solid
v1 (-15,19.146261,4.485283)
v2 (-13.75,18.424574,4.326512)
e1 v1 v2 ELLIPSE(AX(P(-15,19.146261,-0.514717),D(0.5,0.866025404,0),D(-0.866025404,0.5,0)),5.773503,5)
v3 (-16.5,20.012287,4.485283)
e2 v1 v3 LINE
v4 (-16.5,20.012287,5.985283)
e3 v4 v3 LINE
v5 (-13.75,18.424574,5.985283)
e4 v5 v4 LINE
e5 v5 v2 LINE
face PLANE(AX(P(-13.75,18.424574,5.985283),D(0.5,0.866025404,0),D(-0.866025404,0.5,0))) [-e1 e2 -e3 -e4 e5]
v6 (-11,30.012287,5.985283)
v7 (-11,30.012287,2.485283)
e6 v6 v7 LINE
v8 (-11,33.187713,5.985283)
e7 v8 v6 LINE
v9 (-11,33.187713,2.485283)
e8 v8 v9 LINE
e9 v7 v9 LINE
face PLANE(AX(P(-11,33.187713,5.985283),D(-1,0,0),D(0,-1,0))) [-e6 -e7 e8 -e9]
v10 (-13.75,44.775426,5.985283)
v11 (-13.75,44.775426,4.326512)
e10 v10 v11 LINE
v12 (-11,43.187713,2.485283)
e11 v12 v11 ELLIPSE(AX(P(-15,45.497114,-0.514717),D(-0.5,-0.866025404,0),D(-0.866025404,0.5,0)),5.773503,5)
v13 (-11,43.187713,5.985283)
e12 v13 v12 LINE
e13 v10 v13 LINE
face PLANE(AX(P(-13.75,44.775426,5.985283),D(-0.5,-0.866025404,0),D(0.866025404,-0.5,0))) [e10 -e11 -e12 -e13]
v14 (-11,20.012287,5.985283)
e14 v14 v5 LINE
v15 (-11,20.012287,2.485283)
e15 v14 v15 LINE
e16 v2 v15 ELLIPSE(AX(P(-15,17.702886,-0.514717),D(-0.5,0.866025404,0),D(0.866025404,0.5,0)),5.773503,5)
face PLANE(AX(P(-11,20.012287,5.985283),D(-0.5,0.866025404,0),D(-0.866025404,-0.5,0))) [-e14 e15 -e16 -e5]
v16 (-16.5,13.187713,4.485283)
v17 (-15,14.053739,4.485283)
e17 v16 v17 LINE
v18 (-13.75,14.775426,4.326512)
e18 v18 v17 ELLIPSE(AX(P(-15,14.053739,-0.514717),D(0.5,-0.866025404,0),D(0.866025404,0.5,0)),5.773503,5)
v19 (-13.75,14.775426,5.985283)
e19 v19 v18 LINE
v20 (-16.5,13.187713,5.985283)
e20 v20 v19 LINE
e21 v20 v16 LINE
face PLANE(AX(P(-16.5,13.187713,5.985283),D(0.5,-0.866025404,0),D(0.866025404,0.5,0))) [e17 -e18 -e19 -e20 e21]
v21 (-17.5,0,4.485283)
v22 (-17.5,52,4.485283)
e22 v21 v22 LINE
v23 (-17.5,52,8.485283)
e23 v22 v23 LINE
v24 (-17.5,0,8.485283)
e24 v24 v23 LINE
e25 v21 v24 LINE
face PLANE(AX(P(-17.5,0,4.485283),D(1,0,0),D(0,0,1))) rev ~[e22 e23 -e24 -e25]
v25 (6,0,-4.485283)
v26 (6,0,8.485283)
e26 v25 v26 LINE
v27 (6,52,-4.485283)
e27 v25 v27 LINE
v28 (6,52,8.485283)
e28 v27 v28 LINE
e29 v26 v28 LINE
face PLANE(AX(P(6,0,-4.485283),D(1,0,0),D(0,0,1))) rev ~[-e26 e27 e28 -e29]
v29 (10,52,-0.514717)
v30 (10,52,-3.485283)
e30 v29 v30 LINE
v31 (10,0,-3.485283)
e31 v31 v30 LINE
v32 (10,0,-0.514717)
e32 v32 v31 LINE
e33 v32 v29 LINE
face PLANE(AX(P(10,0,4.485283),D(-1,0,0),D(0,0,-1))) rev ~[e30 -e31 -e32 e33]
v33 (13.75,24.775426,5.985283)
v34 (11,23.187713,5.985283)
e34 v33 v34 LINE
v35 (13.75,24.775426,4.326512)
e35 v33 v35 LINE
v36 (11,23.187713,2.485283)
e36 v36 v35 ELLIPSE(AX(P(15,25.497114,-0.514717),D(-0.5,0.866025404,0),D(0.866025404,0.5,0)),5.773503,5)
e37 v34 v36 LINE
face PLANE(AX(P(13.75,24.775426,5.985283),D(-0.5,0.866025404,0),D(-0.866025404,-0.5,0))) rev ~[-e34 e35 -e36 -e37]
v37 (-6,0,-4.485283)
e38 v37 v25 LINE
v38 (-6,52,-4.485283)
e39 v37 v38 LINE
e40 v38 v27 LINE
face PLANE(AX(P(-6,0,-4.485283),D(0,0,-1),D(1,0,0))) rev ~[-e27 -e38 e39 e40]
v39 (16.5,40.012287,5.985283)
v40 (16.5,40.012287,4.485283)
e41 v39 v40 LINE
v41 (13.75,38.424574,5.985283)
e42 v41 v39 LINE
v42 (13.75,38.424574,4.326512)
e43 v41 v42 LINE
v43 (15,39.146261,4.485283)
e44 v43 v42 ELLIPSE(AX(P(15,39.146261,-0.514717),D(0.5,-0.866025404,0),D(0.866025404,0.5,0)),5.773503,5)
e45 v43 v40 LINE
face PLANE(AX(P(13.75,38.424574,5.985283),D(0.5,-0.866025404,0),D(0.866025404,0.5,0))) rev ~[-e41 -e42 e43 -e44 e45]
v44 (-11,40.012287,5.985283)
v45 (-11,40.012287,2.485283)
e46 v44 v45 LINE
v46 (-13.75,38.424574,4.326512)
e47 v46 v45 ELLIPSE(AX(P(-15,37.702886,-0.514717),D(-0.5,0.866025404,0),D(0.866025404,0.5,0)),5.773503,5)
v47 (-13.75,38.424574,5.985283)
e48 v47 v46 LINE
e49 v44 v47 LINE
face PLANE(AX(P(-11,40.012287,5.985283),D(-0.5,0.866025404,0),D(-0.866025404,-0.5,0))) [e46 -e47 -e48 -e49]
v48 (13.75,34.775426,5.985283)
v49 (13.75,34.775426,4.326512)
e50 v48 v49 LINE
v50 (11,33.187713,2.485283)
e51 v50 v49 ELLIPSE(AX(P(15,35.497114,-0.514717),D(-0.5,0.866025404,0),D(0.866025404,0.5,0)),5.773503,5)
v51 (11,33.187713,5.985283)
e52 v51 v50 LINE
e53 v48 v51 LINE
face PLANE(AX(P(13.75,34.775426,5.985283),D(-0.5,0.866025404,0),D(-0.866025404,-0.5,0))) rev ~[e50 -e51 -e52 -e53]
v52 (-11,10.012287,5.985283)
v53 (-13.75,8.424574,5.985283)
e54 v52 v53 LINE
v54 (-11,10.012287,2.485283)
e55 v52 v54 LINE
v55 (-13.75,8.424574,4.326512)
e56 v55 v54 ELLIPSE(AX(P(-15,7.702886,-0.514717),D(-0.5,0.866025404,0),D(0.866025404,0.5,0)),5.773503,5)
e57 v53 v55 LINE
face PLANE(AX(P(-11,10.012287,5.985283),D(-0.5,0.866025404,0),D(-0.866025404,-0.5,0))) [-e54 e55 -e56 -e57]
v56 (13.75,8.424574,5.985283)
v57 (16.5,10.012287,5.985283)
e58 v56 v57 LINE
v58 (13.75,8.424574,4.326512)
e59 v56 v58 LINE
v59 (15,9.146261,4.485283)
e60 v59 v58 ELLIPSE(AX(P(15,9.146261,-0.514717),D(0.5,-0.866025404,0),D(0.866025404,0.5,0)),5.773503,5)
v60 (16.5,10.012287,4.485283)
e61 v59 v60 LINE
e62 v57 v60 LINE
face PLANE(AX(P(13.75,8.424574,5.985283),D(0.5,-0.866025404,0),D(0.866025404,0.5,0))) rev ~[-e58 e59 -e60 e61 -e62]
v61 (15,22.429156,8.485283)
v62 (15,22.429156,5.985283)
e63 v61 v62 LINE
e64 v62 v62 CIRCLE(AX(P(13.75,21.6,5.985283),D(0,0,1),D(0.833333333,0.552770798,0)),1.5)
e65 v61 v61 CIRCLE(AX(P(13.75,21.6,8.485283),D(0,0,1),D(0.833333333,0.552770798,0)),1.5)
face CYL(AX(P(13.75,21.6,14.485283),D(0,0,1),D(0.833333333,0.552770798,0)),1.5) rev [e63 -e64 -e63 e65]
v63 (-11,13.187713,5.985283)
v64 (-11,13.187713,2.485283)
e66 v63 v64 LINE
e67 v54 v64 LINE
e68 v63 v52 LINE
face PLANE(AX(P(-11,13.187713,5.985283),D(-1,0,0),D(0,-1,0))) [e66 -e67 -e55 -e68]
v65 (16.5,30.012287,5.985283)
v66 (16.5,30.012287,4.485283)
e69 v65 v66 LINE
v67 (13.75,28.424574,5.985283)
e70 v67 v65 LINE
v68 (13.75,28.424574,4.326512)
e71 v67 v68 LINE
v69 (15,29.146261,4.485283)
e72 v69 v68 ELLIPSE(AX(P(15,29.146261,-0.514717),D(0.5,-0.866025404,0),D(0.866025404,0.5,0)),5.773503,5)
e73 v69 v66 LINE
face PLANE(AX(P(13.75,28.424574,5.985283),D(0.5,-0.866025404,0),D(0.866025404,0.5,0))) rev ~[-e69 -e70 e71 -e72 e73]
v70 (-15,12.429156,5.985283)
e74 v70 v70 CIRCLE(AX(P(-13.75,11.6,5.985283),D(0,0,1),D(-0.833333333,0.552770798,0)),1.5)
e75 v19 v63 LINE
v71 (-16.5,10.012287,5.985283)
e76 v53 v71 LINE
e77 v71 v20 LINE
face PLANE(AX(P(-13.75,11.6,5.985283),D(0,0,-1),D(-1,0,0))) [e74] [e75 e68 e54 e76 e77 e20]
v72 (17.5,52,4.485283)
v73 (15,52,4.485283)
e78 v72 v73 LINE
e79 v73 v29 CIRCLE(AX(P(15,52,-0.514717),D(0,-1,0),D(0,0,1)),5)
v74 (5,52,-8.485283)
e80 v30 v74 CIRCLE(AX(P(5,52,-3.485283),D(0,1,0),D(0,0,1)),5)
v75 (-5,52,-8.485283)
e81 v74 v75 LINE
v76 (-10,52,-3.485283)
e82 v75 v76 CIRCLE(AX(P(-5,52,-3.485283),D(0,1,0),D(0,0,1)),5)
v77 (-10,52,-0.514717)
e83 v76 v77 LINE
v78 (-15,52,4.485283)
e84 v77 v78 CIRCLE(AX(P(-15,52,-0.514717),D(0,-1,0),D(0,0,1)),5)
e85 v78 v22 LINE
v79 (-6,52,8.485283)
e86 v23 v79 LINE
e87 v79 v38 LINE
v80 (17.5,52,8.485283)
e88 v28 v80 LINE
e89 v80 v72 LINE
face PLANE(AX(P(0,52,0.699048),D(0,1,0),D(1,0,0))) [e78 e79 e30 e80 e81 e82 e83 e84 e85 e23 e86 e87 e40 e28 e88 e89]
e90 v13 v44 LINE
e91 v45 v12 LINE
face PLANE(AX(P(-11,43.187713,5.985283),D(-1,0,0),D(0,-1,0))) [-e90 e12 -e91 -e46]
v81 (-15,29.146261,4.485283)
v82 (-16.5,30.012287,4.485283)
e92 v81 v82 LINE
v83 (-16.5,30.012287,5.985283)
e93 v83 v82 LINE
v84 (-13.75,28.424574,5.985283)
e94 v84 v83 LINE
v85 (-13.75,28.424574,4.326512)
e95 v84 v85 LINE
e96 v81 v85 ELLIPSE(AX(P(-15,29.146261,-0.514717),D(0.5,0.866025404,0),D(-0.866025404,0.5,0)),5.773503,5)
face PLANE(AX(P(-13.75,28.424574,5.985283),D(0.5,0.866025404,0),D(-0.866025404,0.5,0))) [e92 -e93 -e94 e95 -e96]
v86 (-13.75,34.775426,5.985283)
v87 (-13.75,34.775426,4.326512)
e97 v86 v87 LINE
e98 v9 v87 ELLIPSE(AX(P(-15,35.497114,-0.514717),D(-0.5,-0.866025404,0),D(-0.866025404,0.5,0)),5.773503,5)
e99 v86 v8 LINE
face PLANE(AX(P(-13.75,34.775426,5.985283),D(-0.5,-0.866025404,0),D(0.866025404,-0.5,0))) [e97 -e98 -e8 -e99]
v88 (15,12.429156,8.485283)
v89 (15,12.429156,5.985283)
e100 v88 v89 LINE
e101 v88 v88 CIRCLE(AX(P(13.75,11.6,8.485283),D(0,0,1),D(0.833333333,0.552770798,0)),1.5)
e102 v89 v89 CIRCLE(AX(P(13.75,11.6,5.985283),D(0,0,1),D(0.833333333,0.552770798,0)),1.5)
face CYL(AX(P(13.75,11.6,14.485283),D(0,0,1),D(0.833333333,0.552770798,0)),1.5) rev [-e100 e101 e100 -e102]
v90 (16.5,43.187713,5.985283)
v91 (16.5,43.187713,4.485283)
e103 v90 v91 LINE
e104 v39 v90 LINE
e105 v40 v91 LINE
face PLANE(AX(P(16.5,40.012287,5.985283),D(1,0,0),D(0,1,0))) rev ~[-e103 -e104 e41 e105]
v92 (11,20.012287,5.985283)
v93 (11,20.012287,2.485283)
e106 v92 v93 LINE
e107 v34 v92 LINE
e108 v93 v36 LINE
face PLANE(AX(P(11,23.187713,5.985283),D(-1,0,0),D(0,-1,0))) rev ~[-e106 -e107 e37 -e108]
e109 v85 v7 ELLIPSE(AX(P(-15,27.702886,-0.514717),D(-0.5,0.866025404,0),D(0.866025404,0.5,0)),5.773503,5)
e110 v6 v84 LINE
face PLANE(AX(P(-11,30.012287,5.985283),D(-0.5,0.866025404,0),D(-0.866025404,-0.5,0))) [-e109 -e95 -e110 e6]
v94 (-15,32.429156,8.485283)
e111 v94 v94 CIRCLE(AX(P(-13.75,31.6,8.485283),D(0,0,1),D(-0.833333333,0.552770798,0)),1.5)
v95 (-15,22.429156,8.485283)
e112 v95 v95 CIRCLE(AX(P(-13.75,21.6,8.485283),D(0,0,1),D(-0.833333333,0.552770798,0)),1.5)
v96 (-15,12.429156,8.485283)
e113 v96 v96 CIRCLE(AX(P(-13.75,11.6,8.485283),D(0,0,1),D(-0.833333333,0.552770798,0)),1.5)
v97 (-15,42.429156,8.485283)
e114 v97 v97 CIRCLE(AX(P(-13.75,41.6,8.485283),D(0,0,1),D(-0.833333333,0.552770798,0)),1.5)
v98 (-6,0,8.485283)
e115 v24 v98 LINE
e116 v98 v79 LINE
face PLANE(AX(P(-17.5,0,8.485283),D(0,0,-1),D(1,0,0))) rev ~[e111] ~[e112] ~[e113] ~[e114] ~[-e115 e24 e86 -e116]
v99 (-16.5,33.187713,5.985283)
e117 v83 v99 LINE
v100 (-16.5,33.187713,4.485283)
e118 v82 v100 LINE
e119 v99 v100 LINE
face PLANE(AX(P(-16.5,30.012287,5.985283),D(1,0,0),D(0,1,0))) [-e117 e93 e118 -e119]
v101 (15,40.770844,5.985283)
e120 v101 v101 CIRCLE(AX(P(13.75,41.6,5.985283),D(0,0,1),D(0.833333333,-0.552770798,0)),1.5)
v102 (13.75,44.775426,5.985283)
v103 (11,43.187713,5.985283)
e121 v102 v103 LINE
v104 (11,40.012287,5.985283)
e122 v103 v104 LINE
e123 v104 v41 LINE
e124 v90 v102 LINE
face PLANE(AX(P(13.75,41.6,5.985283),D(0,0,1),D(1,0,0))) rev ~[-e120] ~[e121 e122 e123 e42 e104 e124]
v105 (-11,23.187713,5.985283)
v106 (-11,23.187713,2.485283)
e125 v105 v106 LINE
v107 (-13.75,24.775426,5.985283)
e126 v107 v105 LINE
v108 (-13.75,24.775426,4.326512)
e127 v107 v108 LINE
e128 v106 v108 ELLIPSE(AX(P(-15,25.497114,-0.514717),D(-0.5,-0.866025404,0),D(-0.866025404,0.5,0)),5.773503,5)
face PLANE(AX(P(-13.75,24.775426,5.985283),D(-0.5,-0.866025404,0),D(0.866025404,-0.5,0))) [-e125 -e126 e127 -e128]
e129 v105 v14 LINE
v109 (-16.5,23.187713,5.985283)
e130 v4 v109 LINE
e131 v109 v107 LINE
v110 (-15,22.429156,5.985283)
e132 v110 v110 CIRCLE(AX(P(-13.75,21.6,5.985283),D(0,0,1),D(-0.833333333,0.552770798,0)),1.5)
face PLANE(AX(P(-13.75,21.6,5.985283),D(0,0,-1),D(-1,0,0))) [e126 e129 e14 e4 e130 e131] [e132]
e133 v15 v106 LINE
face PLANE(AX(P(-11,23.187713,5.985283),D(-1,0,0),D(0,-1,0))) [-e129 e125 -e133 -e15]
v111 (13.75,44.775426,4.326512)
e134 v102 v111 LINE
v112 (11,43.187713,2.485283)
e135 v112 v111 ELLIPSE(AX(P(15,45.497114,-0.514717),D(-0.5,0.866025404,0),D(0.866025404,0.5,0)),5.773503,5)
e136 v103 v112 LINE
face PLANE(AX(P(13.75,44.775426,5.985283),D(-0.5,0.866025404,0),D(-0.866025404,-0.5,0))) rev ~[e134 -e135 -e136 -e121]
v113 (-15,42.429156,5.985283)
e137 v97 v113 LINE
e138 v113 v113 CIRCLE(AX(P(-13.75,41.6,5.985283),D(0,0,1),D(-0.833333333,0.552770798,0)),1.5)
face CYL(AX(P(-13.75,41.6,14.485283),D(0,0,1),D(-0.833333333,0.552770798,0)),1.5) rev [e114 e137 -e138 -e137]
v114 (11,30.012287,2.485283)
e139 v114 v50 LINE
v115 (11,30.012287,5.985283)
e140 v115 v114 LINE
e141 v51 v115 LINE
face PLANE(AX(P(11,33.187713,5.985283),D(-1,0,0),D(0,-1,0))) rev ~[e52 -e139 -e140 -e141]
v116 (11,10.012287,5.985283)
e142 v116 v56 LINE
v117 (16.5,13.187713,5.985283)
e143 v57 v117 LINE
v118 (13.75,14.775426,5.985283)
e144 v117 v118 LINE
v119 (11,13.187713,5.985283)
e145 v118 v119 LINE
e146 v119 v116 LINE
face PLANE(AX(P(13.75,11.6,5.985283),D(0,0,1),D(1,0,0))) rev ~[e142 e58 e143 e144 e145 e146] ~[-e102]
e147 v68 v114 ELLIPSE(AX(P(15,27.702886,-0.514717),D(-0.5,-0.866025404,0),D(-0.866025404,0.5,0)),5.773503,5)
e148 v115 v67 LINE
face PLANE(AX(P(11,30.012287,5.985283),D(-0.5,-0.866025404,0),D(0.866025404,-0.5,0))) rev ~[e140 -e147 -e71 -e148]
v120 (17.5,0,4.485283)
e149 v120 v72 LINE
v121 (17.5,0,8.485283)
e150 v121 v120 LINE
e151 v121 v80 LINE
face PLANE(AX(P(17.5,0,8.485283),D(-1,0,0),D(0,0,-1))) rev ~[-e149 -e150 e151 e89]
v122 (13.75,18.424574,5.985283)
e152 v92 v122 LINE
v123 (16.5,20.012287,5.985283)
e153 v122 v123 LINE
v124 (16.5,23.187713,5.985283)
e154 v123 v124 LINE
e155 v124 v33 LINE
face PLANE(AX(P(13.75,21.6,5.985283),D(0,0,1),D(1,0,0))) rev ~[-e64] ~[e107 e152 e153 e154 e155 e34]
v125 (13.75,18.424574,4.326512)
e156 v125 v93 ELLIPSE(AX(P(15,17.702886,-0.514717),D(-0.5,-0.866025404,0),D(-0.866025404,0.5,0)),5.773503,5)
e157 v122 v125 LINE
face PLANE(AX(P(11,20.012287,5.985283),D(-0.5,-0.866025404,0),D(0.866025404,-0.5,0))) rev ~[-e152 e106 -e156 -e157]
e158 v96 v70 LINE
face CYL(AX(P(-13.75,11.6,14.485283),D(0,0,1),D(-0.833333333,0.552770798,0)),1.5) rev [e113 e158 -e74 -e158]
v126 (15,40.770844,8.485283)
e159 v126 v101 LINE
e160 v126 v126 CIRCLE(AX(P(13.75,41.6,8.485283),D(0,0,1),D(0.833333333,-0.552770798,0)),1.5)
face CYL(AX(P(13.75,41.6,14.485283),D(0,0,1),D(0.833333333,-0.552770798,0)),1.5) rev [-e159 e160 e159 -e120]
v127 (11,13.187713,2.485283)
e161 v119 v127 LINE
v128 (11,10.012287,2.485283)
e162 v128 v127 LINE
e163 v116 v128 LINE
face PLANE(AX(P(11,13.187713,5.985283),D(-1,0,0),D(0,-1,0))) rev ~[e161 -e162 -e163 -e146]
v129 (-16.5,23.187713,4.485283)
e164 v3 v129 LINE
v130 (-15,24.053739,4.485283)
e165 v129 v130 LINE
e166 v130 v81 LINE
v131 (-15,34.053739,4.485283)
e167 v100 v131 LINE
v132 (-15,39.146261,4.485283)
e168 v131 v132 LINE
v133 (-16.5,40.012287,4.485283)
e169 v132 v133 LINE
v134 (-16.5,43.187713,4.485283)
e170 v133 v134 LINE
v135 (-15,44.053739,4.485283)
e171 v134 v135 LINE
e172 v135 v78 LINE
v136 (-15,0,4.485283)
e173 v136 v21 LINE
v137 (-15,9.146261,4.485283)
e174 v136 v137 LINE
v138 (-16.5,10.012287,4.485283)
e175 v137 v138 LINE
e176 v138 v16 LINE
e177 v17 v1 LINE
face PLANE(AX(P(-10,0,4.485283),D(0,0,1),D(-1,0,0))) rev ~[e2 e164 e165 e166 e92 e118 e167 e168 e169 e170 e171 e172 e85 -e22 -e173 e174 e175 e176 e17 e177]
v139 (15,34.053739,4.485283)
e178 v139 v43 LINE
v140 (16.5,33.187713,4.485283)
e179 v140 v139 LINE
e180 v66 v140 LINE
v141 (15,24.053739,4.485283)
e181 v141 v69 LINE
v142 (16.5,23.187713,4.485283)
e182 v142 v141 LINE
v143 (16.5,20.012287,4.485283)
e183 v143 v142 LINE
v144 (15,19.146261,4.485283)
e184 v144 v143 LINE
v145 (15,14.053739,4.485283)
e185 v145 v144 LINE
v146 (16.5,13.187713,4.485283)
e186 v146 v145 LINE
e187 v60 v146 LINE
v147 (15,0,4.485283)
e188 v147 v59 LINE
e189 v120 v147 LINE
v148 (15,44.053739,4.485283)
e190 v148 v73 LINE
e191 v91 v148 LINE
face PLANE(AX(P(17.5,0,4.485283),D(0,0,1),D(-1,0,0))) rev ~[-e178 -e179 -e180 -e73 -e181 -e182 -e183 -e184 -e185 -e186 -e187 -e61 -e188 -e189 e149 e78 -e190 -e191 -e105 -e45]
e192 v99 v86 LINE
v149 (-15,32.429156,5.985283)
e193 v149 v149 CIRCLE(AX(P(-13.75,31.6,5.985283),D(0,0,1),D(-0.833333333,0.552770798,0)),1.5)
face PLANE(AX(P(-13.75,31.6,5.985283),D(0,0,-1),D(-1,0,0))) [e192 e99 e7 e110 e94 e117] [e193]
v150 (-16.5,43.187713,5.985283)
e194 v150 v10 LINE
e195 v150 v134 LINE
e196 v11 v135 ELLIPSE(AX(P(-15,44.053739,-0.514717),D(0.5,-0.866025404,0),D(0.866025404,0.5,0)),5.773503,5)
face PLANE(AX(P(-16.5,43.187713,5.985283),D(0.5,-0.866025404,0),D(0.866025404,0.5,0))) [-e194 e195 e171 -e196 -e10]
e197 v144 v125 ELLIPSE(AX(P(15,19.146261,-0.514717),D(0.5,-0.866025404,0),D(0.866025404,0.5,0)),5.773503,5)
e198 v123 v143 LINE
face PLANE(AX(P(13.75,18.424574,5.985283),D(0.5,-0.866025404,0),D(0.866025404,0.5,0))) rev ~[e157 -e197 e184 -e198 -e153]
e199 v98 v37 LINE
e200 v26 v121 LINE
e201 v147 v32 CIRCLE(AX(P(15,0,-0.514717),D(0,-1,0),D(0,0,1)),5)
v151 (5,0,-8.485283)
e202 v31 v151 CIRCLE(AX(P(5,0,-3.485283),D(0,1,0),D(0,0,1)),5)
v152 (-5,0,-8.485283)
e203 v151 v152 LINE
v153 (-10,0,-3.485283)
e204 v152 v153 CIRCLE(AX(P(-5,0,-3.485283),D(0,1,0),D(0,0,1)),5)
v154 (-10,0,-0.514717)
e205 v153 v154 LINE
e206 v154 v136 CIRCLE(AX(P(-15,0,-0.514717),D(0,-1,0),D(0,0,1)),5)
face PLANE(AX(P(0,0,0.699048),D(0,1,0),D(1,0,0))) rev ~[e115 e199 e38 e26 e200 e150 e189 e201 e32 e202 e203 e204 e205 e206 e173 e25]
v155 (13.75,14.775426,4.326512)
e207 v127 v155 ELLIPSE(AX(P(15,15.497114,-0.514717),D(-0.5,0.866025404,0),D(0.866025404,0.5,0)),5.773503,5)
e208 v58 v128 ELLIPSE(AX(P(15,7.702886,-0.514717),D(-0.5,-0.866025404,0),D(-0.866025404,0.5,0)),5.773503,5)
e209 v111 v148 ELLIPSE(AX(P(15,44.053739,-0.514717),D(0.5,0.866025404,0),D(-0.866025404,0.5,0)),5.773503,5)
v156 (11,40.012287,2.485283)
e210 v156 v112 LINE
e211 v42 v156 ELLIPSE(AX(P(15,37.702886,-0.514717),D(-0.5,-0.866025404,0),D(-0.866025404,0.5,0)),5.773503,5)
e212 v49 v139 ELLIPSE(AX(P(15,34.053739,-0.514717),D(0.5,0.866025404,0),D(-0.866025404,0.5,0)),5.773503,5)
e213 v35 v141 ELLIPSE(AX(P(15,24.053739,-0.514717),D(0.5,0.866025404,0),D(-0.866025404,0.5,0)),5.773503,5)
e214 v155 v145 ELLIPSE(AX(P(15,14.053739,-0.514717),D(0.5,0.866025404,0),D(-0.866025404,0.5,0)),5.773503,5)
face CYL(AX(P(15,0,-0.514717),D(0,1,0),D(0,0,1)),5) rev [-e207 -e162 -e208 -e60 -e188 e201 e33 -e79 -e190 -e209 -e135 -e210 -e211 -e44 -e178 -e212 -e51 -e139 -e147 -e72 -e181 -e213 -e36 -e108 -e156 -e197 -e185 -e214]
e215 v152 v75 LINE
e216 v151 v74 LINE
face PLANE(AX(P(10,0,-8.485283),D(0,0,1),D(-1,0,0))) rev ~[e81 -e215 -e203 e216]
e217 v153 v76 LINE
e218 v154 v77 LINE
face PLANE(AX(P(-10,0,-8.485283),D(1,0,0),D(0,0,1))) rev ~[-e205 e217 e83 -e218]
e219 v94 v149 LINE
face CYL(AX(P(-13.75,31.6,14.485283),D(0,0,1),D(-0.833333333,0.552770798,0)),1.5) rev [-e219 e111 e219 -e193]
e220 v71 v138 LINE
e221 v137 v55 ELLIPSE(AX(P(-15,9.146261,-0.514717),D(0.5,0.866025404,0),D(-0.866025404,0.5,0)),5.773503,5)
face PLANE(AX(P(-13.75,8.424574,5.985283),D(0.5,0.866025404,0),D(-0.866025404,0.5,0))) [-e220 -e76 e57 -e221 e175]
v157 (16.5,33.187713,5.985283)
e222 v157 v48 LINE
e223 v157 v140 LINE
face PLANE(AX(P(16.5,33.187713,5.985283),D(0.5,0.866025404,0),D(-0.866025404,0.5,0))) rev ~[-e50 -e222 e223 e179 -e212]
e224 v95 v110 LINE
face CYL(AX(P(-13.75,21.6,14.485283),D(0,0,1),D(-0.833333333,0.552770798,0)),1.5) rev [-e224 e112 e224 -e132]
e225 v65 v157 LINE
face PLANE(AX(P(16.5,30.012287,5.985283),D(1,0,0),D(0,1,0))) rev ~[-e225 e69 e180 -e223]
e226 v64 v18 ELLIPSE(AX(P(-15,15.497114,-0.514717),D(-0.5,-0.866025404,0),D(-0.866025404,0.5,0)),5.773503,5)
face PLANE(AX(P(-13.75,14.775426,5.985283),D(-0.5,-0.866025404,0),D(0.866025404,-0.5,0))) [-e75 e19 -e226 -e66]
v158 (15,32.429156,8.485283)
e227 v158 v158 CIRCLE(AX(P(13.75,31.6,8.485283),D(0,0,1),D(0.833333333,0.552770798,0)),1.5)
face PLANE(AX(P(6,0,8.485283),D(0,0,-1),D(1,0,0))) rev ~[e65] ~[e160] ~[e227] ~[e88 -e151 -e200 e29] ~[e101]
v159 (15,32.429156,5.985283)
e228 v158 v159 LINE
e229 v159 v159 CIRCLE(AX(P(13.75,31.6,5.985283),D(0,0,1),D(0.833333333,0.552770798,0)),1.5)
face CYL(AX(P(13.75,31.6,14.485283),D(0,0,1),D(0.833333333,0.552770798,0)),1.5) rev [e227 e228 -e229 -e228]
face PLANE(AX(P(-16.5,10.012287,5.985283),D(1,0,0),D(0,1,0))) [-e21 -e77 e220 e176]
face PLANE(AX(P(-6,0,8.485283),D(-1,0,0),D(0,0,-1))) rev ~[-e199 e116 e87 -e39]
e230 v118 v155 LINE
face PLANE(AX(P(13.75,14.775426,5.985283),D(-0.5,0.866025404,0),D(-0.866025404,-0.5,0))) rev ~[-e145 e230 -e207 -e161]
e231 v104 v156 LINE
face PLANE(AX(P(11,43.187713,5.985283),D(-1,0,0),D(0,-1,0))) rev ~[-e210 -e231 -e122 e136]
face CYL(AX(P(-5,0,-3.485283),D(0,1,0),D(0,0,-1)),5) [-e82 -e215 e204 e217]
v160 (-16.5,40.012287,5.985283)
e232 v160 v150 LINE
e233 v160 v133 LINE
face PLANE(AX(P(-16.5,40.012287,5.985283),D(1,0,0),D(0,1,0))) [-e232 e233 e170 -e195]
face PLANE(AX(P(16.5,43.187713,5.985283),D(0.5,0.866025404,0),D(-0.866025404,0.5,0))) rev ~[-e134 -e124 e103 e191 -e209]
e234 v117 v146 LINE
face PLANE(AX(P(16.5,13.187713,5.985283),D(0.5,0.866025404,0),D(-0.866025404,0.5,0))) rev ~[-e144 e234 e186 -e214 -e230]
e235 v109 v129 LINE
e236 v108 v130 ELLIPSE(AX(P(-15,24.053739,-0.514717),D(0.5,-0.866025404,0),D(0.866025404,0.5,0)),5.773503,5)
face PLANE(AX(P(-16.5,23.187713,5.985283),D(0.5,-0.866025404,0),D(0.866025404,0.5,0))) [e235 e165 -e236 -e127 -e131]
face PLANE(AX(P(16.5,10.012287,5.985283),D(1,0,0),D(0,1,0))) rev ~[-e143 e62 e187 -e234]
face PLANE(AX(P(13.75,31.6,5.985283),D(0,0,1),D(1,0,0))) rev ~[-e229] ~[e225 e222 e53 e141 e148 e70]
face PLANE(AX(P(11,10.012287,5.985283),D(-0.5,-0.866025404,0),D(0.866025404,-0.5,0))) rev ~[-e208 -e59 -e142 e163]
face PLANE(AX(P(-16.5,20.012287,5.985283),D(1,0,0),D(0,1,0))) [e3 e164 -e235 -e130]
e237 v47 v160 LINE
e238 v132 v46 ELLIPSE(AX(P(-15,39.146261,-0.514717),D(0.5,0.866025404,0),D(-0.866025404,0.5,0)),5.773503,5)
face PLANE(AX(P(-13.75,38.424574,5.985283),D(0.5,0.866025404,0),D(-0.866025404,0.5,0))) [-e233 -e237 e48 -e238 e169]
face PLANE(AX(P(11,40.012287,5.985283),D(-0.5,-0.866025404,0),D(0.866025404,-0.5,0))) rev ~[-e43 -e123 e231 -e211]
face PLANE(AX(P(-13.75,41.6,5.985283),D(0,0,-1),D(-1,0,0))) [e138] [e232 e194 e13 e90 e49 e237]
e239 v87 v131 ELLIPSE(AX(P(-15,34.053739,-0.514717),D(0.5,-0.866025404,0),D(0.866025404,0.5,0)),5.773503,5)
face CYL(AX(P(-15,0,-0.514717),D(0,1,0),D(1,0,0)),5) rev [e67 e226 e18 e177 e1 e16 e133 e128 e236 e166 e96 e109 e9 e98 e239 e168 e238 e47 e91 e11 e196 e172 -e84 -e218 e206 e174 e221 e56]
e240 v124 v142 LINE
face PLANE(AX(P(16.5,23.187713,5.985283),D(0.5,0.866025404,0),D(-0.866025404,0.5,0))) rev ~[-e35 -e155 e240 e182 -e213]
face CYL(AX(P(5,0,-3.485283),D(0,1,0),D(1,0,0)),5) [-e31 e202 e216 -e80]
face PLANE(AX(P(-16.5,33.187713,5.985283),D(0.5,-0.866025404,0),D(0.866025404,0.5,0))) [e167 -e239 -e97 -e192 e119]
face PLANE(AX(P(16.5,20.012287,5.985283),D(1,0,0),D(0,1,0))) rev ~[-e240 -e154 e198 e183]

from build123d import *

# Parameters (mm, degrees)
EXTRUDE_1_DEPTH          = 52
FILLET_1_R               = 5
CUT_EXTRUDE_1_DEPTH      = 10
CUT_EXTRUDE_1_DEPTH_BACK = 10
SKETCH_2_R               = 1.5
CUT_EXTRUDE_2_DEPTH      = 10
CUT_EXTRUDE_2_DEPTH_BACK = 1.5


with BuildPart() as part:
    # Эскиз1 → Бобышка-Вытянуть1 (new body)
    with BuildSketch(Plane(origin=(0, 0, 0), x_dir=(1, 0, 0), z_dir=(0, 1, 0))):
        Polygon((-17.5, -4.485282754), (-17.5, -8.485282754), (-6, -8.485282754), (-6, 4.485282754), (6, 4.485282754), (6, -8.485282754), (17.5, -8.485282754), (17.5, -4.485282754), (10, -4.485282754), (10, 8.485282754), (-10, 8.485282754), (-10, -4.485282754), align=None)
    extrude(amount=EXTRUDE_1_DEPTH)

    # Скругление1
    fillet_1_edges = [part.edges().sort_by_distance(p)[0] for p in [
        (-10, 26, 4.485282754),
        (-10, 26, -8.485282754),
        (10, 26, -8.485282754),
        (10, 26, 4.485282754),
    ]]
    fillet(fillet_1_edges, radius=FILLET_1_R)

    # Эскиз2 → Вырез-Вытянуть1 (cut, two sides: drawn at the far end of the back side and taken through both)
    with BuildSketch(Plane(origin=(0, 0, 4.485282754), x_dir=(-1, 0, 0), z_dir=(0, 0, -1)).offset(-CUT_EXTRUDE_1_DEPTH_BACK)):
        with Locations(Location((13.75, 41.6, 0), (0, 0, 33.557309762))):
            Circle(SKETCH_2_R)
        with Locations(Location((13.75, 31.6, 0), (0, 0, 33.557309762))):
            Circle(SKETCH_2_R)
        with Locations(Location((13.75, 21.6, 0), (0, 0, 33.557309762))):
            Circle(SKETCH_2_R)
        with Locations(Location((13.75, 11.6, 0), (0, 0, 33.557309762))):
            Circle(SKETCH_2_R)
        with Locations(Location((-13.75, 41.6, 0), (0, 0, 213.557309762))):
            Circle(SKETCH_2_R)
        with Locations(Location((-13.75, 31.6, 0), (0, 0, 146.442690238))):
            Circle(SKETCH_2_R)
        with Locations(Location((-13.75, 21.6, 0), (0, 0, 146.442690238))):
            Circle(SKETCH_2_R)
        with Locations(Location((-13.75, 11.6, 0), (0, 0, 146.442690238))):
            Circle(SKETCH_2_R)
    extrude(amount=CUT_EXTRUDE_1_DEPTH + CUT_EXTRUDE_1_DEPTH_BACK, mode=Mode.SUBTRACT)

    # Эскиз3 → Вырез-Вытянуть2 (cut, two sides: drawn at the far end of the back side and taken through both)
    with BuildSketch(Plane(origin=(0, 0, 4.485282754), x_dir=(-1, 0, 0), z_dir=(0, 0, -1)).offset(-CUT_EXTRUDE_2_DEPTH_BACK)):
        Polygon((13.75, 38.424573519), (16.5, 40.01228676), (16.5, 43.18771324), (13.75, 44.775426481), (11, 43.18771324), (11, 40.01228676), align=None)
        Polygon((-11, 40.01228676), (-13.75, 38.424573519), (-16.5, 40.01228676), (-16.5, 43.18771324), (-13.75, 44.775426481), (-11, 43.18771324), align=None)
        Polygon((13.75, 28.424573519), (16.5, 30.01228676), (16.5, 33.18771324), (13.75, 34.775426481), (11, 33.18771324), (11, 30.01228676), align=None)
        Polygon((-11, 30.01228676), (-13.75, 28.424573519), (-16.5, 30.01228676), (-16.5, 33.18771324), (-13.75, 34.775426481), (-11, 33.18771324), align=None)
        Polygon((13.75, 18.424573519), (16.5, 20.01228676), (16.5, 23.18771324), (13.75, 24.775426481), (11, 23.18771324), (11, 20.01228676), align=None)
        Polygon((-11, 20.01228676), (-13.75, 18.424573519), (-16.5, 20.01228676), (-16.5, 23.18771324), (-13.75, 24.775426481), (-11, 23.18771324), align=None)
        Polygon((13.75, 8.424573519), (16.5, 10.01228676), (16.5, 13.18771324), (13.75, 14.775426481), (11, 13.18771324), (11, 10.01228676), align=None)
        Polygon((-11, 10.01228676), (-13.75, 8.424573519), (-16.5, 10.01228676), (-16.5, 13.18771324), (-13.75, 14.775426481), (-11, 13.18771324), align=None)
    extrude(amount=CUT_EXTRUDE_2_DEPTH + CUT_EXTRUDE_2_DEPTH_BACK, mode=Mode.SUBTRACT)


solid = part.part
